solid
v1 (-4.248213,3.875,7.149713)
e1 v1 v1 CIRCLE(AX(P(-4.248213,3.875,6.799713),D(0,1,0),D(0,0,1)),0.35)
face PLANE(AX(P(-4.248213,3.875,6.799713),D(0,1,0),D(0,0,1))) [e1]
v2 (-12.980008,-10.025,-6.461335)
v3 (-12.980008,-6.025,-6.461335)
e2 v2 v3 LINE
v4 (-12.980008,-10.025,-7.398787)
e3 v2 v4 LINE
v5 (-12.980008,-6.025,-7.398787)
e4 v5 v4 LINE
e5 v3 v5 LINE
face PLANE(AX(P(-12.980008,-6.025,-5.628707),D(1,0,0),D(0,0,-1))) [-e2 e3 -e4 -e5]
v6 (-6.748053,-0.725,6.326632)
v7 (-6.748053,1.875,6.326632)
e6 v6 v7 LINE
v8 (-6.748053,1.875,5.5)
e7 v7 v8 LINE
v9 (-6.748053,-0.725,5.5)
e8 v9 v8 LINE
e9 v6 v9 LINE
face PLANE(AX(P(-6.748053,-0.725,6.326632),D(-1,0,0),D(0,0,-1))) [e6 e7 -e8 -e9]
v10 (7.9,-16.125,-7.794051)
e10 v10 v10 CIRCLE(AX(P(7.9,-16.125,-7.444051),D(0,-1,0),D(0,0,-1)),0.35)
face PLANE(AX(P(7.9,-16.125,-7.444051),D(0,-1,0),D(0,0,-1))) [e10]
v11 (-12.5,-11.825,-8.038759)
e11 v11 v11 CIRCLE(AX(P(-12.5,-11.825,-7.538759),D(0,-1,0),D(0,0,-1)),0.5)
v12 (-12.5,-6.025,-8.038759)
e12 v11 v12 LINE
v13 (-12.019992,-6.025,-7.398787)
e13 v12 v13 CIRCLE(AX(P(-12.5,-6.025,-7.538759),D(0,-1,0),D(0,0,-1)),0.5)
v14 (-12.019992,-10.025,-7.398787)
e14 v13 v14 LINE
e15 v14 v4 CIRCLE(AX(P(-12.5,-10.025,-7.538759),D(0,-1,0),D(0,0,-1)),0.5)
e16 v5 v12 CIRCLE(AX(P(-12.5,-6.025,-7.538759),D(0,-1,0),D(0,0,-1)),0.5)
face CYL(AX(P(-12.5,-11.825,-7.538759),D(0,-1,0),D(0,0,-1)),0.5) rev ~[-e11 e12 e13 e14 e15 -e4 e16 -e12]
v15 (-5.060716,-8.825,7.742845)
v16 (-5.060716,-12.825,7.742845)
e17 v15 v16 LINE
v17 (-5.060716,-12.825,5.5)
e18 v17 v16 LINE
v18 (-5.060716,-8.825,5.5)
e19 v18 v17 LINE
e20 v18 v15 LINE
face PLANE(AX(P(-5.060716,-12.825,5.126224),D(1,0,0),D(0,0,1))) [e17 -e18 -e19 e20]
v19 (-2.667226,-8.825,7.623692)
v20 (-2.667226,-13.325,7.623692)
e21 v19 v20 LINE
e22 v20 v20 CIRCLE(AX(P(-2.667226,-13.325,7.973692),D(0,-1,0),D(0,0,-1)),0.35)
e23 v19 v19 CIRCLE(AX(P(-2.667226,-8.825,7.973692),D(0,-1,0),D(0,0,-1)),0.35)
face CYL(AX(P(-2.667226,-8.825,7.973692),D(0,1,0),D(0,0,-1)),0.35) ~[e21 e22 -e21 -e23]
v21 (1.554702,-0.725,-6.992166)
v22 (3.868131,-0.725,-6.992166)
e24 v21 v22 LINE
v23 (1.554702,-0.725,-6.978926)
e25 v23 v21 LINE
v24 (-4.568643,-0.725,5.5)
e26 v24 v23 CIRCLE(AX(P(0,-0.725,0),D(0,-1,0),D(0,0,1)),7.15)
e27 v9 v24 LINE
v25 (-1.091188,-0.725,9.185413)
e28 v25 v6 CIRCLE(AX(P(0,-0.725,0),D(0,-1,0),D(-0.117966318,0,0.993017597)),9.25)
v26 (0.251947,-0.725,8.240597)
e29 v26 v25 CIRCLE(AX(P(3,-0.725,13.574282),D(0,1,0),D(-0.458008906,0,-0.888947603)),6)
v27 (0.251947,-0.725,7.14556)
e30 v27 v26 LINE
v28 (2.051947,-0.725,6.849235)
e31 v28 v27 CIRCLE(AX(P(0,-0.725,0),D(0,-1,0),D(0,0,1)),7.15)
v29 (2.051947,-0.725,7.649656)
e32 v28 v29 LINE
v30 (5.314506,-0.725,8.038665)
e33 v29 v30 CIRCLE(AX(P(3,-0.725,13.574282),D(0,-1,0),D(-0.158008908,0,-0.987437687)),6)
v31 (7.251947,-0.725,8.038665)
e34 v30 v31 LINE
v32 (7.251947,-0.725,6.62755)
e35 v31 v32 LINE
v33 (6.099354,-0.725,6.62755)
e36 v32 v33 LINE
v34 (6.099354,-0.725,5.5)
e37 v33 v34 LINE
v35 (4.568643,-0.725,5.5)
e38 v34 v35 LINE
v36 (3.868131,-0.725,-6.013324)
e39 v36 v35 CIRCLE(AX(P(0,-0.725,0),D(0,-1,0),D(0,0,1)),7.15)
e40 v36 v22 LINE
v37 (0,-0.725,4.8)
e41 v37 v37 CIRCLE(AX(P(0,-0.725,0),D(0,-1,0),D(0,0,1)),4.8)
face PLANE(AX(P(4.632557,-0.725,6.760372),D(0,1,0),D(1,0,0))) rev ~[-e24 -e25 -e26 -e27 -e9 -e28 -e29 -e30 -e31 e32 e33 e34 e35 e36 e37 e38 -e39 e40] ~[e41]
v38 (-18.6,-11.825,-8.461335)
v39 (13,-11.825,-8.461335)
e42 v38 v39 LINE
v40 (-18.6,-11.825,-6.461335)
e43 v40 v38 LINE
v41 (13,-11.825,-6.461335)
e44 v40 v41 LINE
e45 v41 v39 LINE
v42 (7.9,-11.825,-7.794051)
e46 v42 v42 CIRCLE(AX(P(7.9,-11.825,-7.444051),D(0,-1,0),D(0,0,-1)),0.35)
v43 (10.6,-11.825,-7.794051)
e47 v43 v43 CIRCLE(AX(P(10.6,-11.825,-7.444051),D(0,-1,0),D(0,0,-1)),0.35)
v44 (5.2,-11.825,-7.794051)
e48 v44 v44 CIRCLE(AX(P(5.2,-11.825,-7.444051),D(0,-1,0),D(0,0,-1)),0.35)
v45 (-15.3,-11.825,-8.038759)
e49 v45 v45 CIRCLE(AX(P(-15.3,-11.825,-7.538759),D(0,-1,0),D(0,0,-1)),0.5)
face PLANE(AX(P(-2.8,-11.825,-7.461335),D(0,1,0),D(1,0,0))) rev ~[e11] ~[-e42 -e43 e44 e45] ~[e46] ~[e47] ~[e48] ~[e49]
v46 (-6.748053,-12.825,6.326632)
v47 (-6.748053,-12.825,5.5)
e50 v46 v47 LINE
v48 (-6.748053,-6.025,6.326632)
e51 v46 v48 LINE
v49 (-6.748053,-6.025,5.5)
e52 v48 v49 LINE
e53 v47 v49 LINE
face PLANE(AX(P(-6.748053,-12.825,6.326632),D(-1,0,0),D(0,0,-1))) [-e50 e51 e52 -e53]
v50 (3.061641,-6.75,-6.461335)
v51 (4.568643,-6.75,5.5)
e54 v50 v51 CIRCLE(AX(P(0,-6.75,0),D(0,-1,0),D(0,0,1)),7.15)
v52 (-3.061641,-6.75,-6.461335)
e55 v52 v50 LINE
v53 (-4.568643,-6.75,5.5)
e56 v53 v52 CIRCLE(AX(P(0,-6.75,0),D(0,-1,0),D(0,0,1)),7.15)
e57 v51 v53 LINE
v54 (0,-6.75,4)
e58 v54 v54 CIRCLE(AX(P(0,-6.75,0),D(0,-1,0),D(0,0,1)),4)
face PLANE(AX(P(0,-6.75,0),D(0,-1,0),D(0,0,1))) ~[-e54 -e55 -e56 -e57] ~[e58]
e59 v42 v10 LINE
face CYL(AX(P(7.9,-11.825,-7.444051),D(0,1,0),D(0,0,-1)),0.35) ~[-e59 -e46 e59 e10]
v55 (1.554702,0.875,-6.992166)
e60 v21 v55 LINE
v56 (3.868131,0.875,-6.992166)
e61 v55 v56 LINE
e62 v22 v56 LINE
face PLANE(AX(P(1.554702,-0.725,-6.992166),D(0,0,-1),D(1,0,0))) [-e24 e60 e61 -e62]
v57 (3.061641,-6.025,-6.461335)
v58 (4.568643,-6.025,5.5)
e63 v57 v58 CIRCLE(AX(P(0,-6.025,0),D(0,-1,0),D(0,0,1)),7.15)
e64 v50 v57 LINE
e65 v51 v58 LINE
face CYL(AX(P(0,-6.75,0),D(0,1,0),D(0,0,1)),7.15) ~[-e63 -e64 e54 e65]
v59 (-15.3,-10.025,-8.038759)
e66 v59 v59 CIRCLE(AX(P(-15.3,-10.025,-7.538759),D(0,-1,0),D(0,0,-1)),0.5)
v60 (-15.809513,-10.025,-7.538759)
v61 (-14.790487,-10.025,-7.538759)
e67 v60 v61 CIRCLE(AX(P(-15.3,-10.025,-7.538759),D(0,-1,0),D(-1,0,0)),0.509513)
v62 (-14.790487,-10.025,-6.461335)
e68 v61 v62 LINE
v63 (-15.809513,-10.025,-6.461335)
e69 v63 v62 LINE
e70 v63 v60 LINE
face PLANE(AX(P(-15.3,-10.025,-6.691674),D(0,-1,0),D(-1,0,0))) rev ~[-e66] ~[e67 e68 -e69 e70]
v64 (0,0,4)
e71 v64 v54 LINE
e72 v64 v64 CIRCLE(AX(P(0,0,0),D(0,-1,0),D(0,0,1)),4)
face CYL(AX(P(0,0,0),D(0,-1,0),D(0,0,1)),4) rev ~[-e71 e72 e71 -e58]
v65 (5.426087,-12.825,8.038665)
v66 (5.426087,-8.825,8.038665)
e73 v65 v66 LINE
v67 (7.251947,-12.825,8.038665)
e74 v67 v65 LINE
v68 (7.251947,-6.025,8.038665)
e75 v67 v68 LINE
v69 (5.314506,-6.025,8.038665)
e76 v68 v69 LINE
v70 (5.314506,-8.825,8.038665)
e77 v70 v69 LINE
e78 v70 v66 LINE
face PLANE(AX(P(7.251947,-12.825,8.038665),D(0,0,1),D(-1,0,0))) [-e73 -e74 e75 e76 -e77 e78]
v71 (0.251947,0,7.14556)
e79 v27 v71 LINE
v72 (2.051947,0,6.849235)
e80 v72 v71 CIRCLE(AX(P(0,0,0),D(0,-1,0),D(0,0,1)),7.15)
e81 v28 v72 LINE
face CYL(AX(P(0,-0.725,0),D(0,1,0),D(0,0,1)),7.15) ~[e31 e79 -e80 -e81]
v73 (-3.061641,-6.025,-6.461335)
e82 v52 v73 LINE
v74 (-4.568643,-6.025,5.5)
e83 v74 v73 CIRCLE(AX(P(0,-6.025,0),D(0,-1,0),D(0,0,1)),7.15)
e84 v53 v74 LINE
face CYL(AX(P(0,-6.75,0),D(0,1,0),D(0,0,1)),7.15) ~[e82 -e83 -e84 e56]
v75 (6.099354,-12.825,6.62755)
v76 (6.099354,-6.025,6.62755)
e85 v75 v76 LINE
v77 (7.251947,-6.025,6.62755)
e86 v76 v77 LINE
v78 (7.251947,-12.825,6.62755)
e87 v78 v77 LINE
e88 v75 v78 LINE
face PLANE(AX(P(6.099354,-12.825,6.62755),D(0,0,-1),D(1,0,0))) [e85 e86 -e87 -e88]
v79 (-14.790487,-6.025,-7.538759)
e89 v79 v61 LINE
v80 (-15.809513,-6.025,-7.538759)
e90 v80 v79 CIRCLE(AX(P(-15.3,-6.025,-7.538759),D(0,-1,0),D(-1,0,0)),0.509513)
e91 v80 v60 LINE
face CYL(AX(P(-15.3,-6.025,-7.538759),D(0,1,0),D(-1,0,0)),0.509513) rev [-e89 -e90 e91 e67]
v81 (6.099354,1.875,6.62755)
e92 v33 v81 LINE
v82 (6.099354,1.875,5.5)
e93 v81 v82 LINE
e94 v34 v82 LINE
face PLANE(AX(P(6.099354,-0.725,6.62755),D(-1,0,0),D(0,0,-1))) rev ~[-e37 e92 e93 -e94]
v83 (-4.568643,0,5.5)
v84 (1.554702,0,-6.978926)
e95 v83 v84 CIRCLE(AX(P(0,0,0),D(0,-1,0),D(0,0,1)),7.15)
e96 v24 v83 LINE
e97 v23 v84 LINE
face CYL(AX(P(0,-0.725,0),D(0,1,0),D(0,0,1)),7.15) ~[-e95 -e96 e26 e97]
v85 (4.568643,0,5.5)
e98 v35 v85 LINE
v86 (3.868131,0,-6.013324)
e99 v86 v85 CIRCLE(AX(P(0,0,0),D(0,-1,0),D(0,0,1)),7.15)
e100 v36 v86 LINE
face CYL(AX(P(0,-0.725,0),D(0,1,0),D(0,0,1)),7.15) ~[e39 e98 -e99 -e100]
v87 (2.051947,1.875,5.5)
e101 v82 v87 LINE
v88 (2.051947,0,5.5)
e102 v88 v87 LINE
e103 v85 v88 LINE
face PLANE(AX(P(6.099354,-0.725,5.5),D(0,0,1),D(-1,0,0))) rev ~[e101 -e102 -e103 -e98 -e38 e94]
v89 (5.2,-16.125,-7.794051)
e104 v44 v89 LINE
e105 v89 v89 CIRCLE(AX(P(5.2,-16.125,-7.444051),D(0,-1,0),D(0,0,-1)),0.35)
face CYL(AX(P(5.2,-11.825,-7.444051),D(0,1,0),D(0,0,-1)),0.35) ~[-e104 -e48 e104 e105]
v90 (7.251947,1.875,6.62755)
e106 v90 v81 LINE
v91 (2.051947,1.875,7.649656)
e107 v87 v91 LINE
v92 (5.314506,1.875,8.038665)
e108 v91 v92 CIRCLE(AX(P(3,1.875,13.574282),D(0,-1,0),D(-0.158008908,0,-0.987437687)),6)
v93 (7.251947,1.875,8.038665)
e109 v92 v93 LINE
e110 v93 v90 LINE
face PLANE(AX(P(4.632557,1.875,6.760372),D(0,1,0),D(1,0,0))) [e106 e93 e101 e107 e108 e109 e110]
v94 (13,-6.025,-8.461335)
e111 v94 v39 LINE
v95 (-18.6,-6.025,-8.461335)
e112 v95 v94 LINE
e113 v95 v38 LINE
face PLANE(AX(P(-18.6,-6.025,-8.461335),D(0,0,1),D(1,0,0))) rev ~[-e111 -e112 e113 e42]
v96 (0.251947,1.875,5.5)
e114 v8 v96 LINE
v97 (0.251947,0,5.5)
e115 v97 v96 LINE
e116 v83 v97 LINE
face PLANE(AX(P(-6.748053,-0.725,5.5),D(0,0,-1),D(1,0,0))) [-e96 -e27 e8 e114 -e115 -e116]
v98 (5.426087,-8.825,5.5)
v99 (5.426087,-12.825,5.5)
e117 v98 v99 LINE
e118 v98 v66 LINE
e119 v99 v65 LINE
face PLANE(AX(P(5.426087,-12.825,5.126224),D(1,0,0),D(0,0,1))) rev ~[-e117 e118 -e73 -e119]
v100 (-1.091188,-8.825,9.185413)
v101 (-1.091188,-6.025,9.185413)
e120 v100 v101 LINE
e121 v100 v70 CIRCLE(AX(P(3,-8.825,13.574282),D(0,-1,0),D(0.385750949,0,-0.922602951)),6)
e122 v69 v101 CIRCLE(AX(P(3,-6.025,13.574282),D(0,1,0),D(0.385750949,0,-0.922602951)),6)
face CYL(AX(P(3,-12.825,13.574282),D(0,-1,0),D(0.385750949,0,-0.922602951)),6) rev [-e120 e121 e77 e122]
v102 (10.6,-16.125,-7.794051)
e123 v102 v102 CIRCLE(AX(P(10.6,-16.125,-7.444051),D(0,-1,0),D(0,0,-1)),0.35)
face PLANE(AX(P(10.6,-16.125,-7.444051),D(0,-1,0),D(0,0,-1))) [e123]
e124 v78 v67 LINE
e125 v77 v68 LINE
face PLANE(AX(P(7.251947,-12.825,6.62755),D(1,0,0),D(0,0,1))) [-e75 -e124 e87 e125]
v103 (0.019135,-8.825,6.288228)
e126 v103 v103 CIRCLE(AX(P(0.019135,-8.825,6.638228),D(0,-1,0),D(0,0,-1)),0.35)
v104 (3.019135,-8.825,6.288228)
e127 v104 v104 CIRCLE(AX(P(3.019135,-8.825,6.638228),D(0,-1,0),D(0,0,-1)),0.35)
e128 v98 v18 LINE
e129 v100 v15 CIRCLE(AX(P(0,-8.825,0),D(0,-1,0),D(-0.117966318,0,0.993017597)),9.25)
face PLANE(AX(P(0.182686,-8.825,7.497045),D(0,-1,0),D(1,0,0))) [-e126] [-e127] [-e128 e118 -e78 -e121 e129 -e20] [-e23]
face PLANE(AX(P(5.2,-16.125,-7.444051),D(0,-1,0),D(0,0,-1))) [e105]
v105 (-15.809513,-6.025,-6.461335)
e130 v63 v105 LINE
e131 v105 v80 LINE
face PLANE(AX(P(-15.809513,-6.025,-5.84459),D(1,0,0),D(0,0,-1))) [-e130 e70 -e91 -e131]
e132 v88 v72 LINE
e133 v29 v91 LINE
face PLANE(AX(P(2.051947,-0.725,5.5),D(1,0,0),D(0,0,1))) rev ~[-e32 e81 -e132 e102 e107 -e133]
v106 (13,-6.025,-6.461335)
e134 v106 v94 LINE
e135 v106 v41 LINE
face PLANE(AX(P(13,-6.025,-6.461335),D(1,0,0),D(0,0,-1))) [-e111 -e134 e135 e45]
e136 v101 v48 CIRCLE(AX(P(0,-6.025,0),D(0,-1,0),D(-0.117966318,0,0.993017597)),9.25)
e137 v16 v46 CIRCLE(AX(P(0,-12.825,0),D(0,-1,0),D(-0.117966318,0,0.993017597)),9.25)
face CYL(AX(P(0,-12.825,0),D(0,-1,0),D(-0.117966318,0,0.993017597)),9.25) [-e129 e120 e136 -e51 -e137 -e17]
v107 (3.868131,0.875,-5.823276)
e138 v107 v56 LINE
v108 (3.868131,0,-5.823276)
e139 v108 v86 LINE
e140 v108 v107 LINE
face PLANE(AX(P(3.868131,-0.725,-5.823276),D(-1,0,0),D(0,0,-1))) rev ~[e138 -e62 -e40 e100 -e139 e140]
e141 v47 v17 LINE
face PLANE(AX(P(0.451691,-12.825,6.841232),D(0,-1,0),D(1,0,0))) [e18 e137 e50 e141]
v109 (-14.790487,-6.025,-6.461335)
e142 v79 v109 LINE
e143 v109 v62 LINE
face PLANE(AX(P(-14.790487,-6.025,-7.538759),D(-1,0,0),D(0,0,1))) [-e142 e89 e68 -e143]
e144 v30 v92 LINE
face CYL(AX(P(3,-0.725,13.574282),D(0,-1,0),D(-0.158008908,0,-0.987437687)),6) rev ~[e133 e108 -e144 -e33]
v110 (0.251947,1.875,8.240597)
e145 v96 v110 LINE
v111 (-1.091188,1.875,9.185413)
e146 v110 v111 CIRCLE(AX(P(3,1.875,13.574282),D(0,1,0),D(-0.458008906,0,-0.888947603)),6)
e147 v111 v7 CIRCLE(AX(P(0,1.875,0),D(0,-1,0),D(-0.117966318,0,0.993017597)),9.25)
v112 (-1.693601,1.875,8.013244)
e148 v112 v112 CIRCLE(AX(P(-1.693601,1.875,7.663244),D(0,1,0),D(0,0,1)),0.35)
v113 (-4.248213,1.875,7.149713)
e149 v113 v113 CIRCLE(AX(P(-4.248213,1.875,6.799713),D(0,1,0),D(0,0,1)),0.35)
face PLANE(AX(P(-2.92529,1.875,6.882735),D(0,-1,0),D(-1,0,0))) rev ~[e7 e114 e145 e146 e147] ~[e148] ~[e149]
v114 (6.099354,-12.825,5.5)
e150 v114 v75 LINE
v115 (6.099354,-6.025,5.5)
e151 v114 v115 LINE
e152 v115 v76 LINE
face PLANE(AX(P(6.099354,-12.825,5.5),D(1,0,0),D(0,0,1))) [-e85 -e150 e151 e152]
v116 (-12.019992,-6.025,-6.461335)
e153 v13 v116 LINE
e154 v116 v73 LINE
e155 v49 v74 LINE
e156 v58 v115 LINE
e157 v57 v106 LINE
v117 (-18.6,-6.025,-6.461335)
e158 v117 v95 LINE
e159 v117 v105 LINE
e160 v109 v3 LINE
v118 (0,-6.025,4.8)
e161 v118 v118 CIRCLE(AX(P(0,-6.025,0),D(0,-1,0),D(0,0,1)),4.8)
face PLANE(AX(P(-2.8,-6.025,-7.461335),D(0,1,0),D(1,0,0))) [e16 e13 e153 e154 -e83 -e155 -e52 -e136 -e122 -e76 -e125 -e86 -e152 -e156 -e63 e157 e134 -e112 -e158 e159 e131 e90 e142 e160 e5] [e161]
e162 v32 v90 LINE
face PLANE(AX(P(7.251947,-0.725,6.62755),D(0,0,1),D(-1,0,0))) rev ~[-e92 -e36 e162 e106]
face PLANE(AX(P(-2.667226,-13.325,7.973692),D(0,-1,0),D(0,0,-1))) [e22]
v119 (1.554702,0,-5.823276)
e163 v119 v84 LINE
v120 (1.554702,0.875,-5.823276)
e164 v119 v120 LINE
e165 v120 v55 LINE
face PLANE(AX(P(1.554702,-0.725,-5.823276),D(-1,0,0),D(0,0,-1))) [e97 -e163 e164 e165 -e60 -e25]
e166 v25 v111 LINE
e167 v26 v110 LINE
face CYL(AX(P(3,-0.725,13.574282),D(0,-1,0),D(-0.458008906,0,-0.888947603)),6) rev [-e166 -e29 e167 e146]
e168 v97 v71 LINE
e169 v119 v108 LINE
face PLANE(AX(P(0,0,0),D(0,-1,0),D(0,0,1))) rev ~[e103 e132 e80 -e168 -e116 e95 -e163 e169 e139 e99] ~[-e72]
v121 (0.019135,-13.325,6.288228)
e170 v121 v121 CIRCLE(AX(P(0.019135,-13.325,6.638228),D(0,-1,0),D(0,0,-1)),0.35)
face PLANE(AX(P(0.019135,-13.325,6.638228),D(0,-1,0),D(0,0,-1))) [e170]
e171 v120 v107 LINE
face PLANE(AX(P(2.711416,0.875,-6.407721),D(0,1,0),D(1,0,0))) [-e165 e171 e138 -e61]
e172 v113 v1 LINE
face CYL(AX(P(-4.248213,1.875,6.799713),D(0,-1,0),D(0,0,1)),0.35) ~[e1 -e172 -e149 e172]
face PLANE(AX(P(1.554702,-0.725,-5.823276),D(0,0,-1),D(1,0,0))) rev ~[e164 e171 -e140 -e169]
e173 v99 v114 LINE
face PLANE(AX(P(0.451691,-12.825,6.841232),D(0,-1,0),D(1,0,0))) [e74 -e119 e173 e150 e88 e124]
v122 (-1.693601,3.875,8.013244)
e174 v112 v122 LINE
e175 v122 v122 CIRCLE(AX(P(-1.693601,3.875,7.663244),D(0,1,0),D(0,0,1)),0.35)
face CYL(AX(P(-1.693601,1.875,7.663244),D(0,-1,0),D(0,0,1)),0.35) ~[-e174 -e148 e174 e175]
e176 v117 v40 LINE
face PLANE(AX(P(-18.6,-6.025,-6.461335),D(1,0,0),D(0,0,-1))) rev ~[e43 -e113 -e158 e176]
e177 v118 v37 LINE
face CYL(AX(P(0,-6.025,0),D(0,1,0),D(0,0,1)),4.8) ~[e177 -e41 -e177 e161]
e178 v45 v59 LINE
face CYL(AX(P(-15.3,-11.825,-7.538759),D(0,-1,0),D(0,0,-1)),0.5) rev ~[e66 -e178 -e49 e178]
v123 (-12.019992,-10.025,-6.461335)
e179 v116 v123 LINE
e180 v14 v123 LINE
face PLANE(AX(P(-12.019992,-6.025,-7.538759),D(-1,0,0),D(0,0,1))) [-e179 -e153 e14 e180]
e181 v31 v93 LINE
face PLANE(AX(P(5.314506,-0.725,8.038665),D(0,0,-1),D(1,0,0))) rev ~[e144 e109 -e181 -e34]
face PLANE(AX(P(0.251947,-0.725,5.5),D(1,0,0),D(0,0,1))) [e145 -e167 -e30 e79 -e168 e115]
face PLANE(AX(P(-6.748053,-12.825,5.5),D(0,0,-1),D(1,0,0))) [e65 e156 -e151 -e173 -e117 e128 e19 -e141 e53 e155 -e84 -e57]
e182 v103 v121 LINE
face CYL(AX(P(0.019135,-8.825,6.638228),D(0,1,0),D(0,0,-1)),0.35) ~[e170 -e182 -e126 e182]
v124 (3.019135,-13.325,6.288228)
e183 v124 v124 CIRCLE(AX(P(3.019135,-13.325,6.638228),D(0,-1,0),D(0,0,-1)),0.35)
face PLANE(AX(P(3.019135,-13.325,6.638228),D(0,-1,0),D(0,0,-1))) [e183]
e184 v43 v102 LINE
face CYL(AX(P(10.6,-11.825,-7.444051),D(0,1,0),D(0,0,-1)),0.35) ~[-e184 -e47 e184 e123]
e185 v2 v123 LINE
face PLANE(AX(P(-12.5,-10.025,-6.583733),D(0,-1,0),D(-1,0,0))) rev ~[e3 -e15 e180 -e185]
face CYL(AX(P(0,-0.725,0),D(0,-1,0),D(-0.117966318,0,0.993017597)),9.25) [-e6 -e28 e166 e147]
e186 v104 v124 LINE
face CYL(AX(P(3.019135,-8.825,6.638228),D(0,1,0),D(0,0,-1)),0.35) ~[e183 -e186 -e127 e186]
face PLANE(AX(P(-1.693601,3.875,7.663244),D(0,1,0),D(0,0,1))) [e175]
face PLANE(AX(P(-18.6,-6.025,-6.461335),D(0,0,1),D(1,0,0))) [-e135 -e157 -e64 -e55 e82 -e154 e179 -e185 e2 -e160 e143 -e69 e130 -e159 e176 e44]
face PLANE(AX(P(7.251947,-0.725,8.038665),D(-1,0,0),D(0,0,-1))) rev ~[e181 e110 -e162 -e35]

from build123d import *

# Parameters (mm, degrees)
EXTRUDE_1_DEPTH     = 2.6
SKETCH_3_W          = 2.3134287
SKETCH_3_H          = 1.168890291
EXTRUDE_2_DEPTH     = 1.6
EXTRUDE_START       = 6.8
EXTRUDE_3_DEPTH     = 6.8
SKETCH_5_W          = 10.486803681
SKETCH_5_H          = 4.741640899
CUT_EXTRUDE_1_DEPTH = 4
SKETCH_6_R          = 0.35
EXTRUDE_4_DEPTH     = 4.5
SKETCH_7_W          = 31.6
SKETCH_7_H          = 2
EXTRUDE_5_DEPTH     = 5.8
SKETCH_8_R          = 0.35
EXTRUDE_6_DEPTH     = 4.3
SKETCH_9_R          = 0.5
CUT_EXTRUDE_2_DEPTH = 14.3
SKETCH_10_R         = 0.35
EXTRUDE_7_DEPTH     = 2
CUT_EXTRUDE_3_DEPTH = 4


with BuildPart() as part:
    # 草图1 → 旋转1 (revolve)
    with BuildSketch(Plane.XY, mode=Mode.PRIVATE) as revolve_1_sk:
        Polygon((4, 0), (4, -6.75), (7.15, -6.75), (7.15, -6.025), (4.8, -6.025), (4.8, -0.725), (7.15, -0.725), (7.15, 0), align=None)
    revolve(revolve_1_sk.sketch.rotate(Axis((0, 5.836385512, 0), (0, -1, 0)), 90), axis=Axis((0, 5.836385512, 0), (0, -1, 0)))

    # 草图2 → 凸台-拉伸1 (add)
    with BuildSketch(Plane(origin=(0, -0.725, 0), x_dir=(1, 0, 0), z_dir=(0, 1, 0))):
        with BuildLine():
            Line((5.314505692, -8.038664756), (7.251946558, -8.038664756))
            Line((7.251946558, -8.038664756), (7.251946558, -6.627550318))
            Line((7.251946558, -6.627550318), (6.099354415, -6.627550318))
            Line((6.099354415, -6.627550318), (6.099354415, -5.5))
            Line((6.099354415, -5.5), (2.051946558, -5.5))
            Line((2.051946558, -5.5), (2.051946558, -7.649656343))
            ThreePointArc((2.051946558, -7.649656343), (3.710373018, -7.616483358), (5.314505692, -8.038664756))
        make_face()
        with BuildLine():
            Line((-6.748053442, -5.5), (0.251946558, -5.5))
            Line((0.251946558, -5.5), (0.251946558, -8.240596845))
            ThreePointArc((0.251946558, -8.240596845), (-0.452097429, -8.666836759), (-1.091188438, -9.185412772))
            ThreePointArc((-1.091188438, -9.185412772), (-4.172119956, -8.255659578), (-6.748053442, -6.32663218))
            Line((-6.748053442, -6.32663218), (-6.748053442, -5.5))
        make_face()
    extrude(amount=EXTRUDE_1_DEPTH)

    # 草图3 → 凸台-拉伸2 (add)
    with BuildSketch(Plane(origin=(0, -0.725, 0), x_dir=(1, 0, 0), z_dir=(0, 1, 0))):
        with Locations((2.711416285, 6.407720863)):
            Rectangle(SKETCH_3_W, SKETCH_3_H)
    extrude(amount=EXTRUDE_2_DEPTH)

    # 草图4 → 凸台-拉伸3 (add)
    with BuildSketch(Plane.XZ.offset(6.025).offset(EXTRUDE_START)):
        with BuildLine():
            Line((-6.748053442, 6.32663218), (-6.748053442, 5.5))
            Line((-6.748053442, 5.5), (6.099354415, 5.5))
            Line((6.099354415, 5.5), (6.099354415, 6.627550318))
            Line((6.099354415, 6.627550318), (7.251946558, 6.627550318))
            Line((7.251946558, 6.627550318), (7.251946558, 8.038664756))
            Line((7.251946558, 8.038664756), (5.314505692, 8.038664756))
            ThreePointArc((5.314505692, 8.038664756), (1.942688245, 7.668176144), (-1.091188438, 9.185412772))
            ThreePointArc((-1.091188438, 9.185412772), (-4.172119956, 8.255659578), (-6.748053442, 6.32663218))
        make_face()
    extrude(amount=-EXTRUDE_3_DEPTH)

    # 草图5 → 切除-拉伸1 (cut)
    with BuildSketch(Plane.XZ.offset(12.825)):
        with Locations((0.182685526, 7.497044948)):
            Rectangle(SKETCH_5_W, SKETCH_5_H)
    extrude(amount=-CUT_EXTRUDE_1_DEPTH, mode=Mode.SUBTRACT)

    # 草图6 → 凸台-拉伸4 (add)
    with BuildSketch(Plane.XZ.offset(8.825)):
        with Locations(Location((3.019135042, 6.638228249, 0), (0, 0, 270))):
            Circle(SKETCH_6_R)
        with Locations(Location((0.019135042, 6.638228249, 0), (0, 0, 270))):
            Circle(SKETCH_6_R)
        with Locations(Location((-2.66722627, 7.973691801, 0), (0, 0, 270))):
            Circle(SKETCH_6_R)
    extrude(amount=EXTRUDE_4_DEPTH)

    # 草图7 → 凸台-拉伸5 (add)
    with BuildSketch(Plane(origin=(0, -6.025, 0), x_dir=(1, 0, 0), z_dir=(0, 1, 0))):
        with Locations((-2.8, 7.461335244)):
            Rectangle(SKETCH_7_W, SKETCH_7_H)
    extrude(amount=-EXTRUDE_5_DEPTH)

    # 草图8 → 凸台-拉伸6 (add)
    with BuildSketch(Plane.XZ.offset(11.825)):
        with Locations(Location((10.6, -7.444051339, 0), (0, 0, 270))):
            Circle(SKETCH_8_R)
        with Locations(Location((7.9, -7.444051339, 0), (0, 0, 270))):
            Circle(SKETCH_8_R)
        with Locations(Location((5.2, -7.444051339, 0), (0, 0, 270))):
            Circle(SKETCH_8_R)
    extrude(amount=EXTRUDE_6_DEPTH)

    # 草图9 → 切除-拉伸2 (cut)
    with BuildSketch(Plane.XZ.offset(11.825)):
        with Locations(Location((-15.3, -7.538758776, 0), (0, 0, 270))):
            Circle(SKETCH_9_R)
        with Locations(Location((-12.5, -7.538758776, 0), (0, 0, 270))):
            Circle(SKETCH_9_R)
    extrude(amount=-CUT_EXTRUDE_2_DEPTH, mode=Mode.SUBTRACT)

    # 草图10 → 凸台-拉伸7 (add)
    with BuildSketch(Plane(origin=(0, 1.875, 0), x_dir=(1, 0, 0), z_dir=(0, 1, 0))):
        with Locations(Location((-4.248213346, -6.799713472, 0), (0, 0, 270))):
            Circle(SKETCH_10_R)
        with Locations(Location((-1.693600984, -7.663244411, 0), (0, 0, 270))):
            Circle(SKETCH_10_R)
    extrude(amount=EXTRUDE_7_DEPTH)

    # 草图11 → 切除-拉伸3 (cut)
    with BuildSketch(Plane(origin=(0, -6.025, 0), x_dir=(1, 0, 0), z_dir=(0, 1, 0))):
        with BuildLine():
            Line((-14.790486895, 7.538758776), (-14.790486895, 5.844589861))
            ThreePointArc((-14.790486895, 5.844589861), (-15.3, 5.335076756), (-15.809513105, 5.844589861))
            Line((-15.809513105, 5.844589861), (-15.809513105, 7.538758776))
            ThreePointArc((-15.809513105, 7.538758776), (-15.3, 8.048271881), (-14.790486895, 7.538758776))
        make_face()
        with BuildLine():
            Line((-12.019991798, 7.538758776), (-12.019991798, 5.628707126))
            ThreePointArc((-12.019991798, 5.628707126), (-12.5, 5.148698925), (-12.980008202, 5.628707126))
            Line((-12.980008202, 5.628707126), (-12.980008202, 7.538758776))
            ThreePointArc((-12.980008202, 7.538758776), (-12.5, 8.018766978), (-12.019991798, 7.538758776))
        make_face()
    extrude(amount=-CUT_EXTRUDE_3_DEPTH, mode=Mode.SUBTRACT)


solid = part.part
